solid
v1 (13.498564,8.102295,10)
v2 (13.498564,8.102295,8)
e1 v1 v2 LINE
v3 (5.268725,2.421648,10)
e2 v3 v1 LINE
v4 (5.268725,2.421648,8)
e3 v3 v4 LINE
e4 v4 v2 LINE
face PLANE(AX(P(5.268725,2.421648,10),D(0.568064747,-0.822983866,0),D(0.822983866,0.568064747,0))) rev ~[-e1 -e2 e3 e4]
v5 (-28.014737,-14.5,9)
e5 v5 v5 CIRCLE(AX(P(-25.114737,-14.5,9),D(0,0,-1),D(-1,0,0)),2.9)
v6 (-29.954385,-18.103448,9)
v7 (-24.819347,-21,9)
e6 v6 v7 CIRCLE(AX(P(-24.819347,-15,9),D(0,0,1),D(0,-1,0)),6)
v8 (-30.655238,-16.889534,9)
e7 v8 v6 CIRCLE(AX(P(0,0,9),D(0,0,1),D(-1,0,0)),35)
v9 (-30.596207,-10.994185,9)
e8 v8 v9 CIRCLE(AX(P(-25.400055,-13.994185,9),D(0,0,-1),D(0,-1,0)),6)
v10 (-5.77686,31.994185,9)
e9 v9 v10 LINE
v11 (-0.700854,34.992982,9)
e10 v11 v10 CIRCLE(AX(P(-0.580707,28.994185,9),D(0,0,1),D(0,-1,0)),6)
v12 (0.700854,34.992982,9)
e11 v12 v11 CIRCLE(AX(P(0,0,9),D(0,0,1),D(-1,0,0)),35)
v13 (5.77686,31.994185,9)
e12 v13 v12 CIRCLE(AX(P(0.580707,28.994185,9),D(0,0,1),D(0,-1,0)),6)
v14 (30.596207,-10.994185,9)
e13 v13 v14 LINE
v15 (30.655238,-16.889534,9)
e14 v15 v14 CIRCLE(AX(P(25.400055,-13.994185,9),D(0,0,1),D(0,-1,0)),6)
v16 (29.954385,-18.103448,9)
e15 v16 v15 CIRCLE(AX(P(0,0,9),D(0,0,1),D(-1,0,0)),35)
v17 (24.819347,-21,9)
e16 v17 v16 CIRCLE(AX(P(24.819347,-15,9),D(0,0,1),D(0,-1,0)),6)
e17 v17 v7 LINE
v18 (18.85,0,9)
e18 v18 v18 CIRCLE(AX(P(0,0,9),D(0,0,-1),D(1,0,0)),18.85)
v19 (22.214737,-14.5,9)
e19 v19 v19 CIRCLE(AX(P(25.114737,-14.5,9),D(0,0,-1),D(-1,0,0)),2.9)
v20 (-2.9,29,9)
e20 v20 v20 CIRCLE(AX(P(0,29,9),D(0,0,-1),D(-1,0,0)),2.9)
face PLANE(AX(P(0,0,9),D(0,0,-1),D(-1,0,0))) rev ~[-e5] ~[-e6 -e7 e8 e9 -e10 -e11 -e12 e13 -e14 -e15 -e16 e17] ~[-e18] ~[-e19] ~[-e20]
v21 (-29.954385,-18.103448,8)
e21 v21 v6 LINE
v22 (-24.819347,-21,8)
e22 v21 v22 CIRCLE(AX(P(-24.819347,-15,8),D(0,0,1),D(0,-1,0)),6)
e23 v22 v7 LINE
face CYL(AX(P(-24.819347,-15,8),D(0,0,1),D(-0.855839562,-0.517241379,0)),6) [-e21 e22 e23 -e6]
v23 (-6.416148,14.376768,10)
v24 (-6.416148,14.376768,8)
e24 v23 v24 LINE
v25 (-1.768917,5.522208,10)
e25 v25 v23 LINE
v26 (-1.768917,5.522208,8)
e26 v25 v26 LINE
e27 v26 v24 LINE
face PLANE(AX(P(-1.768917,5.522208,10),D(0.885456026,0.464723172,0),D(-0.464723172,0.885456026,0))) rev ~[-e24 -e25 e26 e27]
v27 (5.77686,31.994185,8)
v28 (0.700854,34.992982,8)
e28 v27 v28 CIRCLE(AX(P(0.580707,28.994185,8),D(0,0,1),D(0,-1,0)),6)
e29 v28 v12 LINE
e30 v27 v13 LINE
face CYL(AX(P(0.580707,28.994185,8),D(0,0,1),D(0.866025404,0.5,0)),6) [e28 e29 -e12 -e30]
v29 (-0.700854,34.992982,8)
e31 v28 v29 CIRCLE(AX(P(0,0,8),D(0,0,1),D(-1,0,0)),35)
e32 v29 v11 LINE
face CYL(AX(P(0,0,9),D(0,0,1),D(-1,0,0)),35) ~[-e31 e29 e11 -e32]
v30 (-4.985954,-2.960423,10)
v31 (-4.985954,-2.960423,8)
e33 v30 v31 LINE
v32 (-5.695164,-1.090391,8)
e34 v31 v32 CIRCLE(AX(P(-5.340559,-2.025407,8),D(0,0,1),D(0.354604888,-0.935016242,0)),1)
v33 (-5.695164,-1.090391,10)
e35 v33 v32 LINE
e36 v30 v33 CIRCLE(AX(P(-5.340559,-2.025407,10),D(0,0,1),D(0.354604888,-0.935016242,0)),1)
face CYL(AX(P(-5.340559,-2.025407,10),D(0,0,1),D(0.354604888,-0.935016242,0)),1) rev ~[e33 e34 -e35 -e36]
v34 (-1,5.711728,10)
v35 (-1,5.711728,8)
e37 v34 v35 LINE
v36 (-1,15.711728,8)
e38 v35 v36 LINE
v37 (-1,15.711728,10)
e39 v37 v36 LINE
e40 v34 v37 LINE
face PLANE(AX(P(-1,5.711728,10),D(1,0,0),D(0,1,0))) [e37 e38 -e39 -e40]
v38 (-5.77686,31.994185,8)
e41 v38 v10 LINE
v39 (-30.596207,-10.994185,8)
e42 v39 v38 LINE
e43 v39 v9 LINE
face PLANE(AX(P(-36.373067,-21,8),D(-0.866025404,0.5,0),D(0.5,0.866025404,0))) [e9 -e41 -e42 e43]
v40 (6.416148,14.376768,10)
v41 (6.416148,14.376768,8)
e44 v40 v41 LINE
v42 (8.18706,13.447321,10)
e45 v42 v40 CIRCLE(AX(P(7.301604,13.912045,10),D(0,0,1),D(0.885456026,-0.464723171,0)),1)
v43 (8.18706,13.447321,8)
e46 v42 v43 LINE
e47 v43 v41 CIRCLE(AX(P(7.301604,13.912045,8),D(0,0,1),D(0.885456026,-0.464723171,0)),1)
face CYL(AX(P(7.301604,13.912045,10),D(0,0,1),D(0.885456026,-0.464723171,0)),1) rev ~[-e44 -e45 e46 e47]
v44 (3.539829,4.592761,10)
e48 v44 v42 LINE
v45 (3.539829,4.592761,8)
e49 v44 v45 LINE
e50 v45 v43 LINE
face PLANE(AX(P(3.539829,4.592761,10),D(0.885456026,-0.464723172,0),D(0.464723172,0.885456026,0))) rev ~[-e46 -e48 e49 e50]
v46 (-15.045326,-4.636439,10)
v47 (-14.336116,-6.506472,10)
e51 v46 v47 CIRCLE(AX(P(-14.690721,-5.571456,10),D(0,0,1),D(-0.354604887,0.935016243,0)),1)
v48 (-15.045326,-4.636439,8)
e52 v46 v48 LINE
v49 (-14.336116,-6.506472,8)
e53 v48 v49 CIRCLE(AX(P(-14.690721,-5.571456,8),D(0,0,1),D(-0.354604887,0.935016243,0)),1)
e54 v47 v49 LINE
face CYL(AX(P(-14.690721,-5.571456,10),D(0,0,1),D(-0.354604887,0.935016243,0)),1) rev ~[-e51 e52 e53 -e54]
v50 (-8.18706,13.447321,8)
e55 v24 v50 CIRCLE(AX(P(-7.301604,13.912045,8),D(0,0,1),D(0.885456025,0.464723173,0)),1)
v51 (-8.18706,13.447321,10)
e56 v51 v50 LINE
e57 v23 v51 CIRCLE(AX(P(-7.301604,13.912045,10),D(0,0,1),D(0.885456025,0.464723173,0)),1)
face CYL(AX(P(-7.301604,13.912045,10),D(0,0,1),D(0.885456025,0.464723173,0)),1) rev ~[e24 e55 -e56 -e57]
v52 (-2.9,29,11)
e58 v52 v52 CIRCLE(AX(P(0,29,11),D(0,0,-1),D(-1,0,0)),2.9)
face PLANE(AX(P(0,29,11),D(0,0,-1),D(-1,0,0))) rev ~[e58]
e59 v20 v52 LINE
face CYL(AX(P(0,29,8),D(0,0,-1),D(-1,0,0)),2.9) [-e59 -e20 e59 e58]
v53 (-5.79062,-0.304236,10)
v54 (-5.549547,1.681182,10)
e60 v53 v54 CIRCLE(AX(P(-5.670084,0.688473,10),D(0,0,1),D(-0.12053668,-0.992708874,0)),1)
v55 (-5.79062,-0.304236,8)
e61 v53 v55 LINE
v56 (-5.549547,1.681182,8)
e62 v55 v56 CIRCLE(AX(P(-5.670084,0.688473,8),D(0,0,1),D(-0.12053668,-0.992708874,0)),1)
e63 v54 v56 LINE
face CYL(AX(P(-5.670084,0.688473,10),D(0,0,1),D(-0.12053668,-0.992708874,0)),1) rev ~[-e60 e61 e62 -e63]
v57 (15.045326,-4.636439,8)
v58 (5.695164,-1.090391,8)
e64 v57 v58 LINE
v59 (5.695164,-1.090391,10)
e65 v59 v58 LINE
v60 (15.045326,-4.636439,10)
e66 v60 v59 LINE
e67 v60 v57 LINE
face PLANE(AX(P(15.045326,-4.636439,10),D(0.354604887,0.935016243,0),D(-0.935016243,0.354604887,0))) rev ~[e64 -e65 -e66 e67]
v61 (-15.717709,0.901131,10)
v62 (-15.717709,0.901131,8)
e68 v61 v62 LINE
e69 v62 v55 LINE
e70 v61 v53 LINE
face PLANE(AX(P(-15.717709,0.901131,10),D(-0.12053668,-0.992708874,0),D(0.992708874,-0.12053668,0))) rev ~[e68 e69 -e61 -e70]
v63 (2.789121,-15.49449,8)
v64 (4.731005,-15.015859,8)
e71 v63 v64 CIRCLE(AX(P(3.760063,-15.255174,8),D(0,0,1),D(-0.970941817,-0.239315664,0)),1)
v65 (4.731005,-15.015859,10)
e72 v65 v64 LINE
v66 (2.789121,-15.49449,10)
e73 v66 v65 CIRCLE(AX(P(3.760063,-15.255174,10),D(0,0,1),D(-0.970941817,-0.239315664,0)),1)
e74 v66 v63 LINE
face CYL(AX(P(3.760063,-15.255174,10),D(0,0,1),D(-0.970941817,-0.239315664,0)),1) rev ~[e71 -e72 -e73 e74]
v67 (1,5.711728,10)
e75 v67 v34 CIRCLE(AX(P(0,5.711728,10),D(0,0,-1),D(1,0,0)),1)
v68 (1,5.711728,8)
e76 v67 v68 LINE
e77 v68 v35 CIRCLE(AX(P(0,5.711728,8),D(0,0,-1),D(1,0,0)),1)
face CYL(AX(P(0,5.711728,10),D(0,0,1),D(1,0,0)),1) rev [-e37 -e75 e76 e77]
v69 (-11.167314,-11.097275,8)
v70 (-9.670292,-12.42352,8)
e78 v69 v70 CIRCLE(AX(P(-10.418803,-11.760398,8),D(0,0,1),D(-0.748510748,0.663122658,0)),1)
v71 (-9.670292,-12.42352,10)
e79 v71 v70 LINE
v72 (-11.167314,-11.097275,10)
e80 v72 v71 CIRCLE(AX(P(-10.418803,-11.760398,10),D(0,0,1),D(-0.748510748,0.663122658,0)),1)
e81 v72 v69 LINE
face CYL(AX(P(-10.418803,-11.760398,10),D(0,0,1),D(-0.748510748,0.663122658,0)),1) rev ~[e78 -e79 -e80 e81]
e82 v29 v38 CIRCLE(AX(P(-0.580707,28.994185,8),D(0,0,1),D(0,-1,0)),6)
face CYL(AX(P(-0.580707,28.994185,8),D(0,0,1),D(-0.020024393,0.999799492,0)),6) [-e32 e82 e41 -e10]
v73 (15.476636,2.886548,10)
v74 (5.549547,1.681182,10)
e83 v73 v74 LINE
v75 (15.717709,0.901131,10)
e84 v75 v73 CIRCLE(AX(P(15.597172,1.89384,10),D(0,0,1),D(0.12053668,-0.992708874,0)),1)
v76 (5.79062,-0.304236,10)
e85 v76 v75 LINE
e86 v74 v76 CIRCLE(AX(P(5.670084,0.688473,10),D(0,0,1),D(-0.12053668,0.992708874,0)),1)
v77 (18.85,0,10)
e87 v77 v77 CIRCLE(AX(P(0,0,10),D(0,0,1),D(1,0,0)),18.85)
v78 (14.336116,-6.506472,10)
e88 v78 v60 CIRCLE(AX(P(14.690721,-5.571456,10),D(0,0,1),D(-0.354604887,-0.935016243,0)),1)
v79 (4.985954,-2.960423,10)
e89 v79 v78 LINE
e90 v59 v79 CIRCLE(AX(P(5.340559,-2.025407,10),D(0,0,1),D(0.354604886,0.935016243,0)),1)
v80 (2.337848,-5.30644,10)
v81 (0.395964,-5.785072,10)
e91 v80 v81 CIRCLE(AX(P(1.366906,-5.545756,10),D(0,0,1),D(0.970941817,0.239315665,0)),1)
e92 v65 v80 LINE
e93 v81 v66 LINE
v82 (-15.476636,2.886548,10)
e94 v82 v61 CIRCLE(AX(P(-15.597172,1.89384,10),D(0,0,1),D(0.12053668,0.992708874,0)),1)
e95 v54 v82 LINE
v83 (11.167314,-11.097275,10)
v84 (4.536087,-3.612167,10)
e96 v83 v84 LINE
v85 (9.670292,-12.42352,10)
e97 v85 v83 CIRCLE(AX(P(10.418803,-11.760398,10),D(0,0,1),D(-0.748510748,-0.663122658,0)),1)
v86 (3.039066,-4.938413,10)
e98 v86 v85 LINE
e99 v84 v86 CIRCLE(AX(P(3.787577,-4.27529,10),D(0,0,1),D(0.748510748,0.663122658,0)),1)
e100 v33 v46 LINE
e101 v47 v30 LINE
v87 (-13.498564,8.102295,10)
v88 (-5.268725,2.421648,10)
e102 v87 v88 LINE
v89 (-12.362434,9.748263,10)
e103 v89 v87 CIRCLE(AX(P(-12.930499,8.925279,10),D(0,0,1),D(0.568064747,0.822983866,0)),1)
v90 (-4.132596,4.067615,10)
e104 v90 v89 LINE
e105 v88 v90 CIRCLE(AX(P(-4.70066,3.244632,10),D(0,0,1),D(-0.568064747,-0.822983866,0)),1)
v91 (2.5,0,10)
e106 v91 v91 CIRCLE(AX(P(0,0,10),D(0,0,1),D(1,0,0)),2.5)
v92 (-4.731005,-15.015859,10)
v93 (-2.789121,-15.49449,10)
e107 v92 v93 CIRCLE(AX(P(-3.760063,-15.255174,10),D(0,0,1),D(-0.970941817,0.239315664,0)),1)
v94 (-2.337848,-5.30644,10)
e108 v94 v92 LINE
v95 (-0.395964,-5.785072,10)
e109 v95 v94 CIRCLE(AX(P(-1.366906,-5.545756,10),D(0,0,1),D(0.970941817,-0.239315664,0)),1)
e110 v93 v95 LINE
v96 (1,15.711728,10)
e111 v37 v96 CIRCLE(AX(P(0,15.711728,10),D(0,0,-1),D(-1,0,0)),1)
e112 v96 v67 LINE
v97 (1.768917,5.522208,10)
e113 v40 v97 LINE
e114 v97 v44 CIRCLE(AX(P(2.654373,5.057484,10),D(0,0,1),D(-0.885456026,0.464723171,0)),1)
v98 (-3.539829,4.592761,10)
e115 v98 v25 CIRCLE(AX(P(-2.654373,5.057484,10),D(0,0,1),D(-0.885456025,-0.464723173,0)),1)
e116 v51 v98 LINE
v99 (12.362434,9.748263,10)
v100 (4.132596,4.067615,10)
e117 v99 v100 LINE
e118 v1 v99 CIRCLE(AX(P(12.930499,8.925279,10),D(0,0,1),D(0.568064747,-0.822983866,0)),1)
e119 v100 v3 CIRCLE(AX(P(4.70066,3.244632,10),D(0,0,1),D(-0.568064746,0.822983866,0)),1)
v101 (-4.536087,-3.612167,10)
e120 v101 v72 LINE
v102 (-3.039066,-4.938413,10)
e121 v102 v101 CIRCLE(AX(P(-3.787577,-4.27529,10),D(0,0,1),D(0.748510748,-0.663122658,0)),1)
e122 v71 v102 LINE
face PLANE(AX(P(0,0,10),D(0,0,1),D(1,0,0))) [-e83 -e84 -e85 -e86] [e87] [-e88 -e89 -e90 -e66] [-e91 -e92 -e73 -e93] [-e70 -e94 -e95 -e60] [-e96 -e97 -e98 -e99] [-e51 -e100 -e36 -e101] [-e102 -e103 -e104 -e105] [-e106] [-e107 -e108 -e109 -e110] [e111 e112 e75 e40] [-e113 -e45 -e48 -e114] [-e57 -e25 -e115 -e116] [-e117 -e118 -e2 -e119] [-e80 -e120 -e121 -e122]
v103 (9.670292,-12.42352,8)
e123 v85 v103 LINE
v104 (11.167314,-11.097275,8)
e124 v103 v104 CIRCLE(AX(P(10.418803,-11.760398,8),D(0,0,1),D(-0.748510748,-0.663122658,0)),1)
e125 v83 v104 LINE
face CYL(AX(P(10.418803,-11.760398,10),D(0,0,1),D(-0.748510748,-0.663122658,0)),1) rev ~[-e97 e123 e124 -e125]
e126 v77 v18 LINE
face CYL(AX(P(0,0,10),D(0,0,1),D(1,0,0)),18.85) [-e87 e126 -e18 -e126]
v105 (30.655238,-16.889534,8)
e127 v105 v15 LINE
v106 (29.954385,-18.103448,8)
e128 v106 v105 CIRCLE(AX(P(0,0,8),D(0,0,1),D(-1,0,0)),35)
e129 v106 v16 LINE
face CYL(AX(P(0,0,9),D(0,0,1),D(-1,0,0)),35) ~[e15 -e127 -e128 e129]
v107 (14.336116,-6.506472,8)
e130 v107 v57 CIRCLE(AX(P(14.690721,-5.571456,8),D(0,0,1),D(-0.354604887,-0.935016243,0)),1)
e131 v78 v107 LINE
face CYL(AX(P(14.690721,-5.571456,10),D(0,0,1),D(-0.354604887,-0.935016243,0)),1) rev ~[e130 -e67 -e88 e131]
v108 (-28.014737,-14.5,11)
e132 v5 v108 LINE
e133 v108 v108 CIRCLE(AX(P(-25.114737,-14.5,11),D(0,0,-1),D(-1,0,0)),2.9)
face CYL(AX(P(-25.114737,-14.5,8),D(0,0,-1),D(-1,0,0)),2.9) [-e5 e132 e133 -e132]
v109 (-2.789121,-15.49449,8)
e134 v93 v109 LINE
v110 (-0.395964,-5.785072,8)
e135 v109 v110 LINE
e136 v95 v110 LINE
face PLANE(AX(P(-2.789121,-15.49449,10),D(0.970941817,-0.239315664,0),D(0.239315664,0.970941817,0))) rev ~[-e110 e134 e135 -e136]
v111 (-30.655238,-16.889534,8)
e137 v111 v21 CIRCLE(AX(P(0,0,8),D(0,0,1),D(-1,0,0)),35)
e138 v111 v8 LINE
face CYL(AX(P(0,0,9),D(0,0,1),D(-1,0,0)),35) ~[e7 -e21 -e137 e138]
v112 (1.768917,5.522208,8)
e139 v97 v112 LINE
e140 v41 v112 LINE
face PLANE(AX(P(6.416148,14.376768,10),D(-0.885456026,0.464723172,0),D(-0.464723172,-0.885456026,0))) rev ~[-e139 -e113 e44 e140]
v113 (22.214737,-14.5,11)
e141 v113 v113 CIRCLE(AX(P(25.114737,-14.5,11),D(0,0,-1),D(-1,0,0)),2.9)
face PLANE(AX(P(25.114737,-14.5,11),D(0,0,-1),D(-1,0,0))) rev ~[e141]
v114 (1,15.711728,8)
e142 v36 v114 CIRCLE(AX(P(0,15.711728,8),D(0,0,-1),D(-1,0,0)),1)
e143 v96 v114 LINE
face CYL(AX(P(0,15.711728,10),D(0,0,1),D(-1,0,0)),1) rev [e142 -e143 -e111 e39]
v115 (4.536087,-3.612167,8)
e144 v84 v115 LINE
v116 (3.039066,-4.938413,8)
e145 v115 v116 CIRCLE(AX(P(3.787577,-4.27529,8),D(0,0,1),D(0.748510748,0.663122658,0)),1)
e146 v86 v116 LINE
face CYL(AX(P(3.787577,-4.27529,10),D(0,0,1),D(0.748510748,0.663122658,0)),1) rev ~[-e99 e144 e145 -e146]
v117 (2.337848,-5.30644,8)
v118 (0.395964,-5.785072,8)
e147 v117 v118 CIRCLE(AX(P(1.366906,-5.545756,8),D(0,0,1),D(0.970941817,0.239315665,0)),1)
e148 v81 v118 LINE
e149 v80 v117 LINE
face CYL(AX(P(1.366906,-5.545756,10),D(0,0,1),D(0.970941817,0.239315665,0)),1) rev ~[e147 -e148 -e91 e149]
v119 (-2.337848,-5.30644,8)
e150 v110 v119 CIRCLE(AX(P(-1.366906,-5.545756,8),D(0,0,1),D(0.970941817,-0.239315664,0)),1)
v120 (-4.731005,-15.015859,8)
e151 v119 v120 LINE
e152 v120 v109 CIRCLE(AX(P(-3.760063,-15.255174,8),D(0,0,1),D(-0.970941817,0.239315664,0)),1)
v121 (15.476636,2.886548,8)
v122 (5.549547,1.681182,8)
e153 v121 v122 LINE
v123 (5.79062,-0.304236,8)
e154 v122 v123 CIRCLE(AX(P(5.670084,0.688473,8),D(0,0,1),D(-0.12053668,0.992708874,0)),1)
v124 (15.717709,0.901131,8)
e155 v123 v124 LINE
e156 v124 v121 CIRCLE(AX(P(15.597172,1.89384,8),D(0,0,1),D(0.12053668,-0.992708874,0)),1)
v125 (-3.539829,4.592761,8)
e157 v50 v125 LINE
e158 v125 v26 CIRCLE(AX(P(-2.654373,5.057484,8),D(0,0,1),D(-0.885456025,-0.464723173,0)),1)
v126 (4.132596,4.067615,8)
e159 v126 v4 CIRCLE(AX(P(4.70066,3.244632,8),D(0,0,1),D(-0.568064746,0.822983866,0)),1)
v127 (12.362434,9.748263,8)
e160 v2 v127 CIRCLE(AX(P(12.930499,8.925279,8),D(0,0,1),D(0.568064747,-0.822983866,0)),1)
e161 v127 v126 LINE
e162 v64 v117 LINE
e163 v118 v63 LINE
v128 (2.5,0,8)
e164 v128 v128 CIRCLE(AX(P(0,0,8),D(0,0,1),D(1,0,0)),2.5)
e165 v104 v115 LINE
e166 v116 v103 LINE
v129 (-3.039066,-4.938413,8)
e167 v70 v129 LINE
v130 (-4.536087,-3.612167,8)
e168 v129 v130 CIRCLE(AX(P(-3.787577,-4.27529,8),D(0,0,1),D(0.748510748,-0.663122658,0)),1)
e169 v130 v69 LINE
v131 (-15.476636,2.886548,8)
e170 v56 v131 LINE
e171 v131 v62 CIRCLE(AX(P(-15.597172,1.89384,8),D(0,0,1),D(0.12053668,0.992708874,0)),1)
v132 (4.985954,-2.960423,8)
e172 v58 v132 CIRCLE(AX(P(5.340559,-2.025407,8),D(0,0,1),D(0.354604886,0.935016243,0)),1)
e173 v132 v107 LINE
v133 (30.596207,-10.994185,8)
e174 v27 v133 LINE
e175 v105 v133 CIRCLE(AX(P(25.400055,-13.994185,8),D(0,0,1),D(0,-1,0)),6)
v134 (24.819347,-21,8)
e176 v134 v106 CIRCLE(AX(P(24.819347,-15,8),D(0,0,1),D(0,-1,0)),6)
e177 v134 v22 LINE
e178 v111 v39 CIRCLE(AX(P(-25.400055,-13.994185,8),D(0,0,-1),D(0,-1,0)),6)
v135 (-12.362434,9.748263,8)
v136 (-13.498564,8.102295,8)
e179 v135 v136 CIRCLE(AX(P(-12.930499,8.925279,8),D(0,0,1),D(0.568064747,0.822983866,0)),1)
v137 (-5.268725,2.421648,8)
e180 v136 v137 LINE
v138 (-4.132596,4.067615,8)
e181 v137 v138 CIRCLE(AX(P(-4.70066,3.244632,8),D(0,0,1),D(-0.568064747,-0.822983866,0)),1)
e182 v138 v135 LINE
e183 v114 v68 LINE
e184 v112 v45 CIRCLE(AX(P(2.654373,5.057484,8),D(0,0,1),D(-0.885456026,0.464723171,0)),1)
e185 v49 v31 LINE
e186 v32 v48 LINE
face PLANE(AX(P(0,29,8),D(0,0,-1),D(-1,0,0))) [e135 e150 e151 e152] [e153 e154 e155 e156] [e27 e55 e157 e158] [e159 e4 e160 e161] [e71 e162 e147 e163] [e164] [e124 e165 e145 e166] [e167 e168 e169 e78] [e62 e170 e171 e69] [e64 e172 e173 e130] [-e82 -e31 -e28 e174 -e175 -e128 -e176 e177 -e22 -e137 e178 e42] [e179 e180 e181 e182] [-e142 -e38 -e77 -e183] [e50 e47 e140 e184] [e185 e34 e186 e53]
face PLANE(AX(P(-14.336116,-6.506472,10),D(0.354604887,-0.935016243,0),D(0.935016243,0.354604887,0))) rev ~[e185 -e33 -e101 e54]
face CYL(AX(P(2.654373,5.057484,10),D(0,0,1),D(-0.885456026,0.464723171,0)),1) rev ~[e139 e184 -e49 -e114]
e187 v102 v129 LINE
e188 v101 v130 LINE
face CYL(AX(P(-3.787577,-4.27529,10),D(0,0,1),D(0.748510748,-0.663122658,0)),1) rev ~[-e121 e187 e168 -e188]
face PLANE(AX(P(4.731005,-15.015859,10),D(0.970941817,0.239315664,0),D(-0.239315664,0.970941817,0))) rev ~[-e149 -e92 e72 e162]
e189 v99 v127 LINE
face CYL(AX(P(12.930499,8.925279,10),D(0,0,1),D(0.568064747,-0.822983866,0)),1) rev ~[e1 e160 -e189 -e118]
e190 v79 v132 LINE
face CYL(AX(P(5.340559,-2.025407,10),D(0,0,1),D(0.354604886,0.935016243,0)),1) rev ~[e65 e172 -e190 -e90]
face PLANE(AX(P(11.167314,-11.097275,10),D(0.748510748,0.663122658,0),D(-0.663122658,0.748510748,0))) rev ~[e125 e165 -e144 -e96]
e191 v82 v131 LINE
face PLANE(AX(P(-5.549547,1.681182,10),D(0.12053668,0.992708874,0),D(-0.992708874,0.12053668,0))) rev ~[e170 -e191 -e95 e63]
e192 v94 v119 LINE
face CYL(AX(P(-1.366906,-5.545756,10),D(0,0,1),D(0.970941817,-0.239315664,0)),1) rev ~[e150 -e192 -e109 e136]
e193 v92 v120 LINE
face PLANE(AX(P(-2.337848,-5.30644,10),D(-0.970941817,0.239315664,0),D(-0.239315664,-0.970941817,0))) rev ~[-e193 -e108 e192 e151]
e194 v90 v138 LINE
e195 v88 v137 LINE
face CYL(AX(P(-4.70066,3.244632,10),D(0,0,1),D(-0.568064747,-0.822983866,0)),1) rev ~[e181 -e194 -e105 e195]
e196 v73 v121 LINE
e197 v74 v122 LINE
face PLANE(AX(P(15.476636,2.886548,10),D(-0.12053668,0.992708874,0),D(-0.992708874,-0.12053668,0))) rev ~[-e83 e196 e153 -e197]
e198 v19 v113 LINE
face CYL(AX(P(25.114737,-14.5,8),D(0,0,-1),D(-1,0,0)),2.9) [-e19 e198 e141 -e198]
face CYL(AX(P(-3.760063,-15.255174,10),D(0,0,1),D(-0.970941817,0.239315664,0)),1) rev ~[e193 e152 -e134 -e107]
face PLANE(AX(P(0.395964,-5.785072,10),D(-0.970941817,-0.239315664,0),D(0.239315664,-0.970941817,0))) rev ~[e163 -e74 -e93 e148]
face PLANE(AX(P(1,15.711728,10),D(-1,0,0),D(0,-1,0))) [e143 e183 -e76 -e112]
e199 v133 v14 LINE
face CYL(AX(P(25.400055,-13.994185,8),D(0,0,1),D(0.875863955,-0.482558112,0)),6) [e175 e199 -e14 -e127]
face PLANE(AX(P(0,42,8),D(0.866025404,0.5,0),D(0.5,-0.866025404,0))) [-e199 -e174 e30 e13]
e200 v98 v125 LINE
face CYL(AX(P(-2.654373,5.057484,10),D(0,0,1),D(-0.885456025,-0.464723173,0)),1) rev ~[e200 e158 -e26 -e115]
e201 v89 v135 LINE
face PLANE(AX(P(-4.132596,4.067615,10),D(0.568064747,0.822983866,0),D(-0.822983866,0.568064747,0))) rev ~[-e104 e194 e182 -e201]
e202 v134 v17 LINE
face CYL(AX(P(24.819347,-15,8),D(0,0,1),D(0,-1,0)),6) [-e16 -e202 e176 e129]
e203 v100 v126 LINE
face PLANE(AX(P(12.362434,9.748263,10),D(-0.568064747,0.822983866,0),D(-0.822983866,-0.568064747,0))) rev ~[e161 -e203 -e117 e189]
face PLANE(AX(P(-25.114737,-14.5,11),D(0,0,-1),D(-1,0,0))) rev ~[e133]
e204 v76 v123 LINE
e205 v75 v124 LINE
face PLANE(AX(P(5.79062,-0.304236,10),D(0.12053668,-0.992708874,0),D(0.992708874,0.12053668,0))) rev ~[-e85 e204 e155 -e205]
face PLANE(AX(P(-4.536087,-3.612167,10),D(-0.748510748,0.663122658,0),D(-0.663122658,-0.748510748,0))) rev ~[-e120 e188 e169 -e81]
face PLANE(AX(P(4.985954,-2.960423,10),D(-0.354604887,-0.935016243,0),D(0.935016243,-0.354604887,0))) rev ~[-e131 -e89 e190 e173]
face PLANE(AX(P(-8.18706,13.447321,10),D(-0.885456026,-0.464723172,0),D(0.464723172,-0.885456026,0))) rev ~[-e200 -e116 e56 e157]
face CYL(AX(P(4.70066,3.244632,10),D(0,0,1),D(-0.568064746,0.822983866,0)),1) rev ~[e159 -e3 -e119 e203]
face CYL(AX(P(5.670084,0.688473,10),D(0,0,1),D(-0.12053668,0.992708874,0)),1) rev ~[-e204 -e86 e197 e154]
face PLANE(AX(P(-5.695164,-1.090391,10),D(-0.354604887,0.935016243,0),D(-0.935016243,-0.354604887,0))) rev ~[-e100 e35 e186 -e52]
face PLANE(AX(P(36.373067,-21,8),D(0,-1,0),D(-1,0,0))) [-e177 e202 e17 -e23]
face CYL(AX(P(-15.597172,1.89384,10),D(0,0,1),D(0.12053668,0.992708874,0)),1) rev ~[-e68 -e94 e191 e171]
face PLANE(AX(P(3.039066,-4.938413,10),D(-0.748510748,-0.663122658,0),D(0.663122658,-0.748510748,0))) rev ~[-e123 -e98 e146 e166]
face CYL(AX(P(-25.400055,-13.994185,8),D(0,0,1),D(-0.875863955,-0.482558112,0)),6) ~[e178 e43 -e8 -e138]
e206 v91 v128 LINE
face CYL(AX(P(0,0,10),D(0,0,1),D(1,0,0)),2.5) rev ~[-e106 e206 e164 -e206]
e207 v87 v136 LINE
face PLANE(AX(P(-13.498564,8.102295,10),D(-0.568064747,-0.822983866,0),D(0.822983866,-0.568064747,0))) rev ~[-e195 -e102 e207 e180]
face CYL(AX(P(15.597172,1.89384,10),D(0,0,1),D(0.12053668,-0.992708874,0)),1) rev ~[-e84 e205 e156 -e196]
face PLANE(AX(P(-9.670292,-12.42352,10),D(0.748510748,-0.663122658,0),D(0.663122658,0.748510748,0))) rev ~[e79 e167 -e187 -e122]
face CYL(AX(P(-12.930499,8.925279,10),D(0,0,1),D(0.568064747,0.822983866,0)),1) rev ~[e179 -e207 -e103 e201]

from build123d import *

# Parameters (mm, degrees)
SKETCH2_R           = 18.85
SKETCH2_R_2         = 2.5
BOSS_EXTRUDE1_DEPTH = 2
BOSS_EXTRUDE2_START = -1
SKETCH3_R           = 35
SKETCH3_R_2         = 18.85
BOSS_EXTRUDE2_DEPTH = 1
SKETCH4_R           = 2.9
BOSS_EXTRUDE3_DEPTH = 3
SKETCH6_R           = 5
BOSS_EXTRUDE4_DEPTH = 1
SKETCH7_R           = 59.131365533
CUT_EXTRUDE1_DEPTH  = 10
FILLET1_R           = 6


with BuildPart() as part:
    # Sketch2 → Boss-Extrude1 (new body)
    with BuildSketch(Plane.XY.offset(10)):
        Circle(SKETCH2_R)
        Circle(SKETCH2_R_2, mode=Mode.SUBTRACT)
        with BuildLine():
            Line((1, 15.711728477), (1, 5.711728477))
            ThreePointArc((1, 5.711728477), (0, 4.711728477), (-1, 5.711728477))
            Line((-1, 5.711728477), (-1, 15.711728477))
            ThreePointArc((-1, 15.711728477), (0, 16.711728477), (1, 15.711728477))
        make_face(mode=Mode.SUBTRACT)
        with BuildLine():
            Line((6.416148271, 14.376767826), (1.76891655, 5.522207569))
            ThreePointArc((1.76891655, 5.522207569), (2.189649404, 4.172028372), (3.539828602, 4.592761225))
            Line((3.539828602, 4.592761225), (8.187060322, 13.447321482))
            ThreePointArc((8.187060322, 13.447321482), (7.766327468, 14.797500679), (6.416148271, 14.376767826))
        make_face(mode=Mode.SUBTRACT)
        with BuildLine():
            Line((12.362434295, 9.748262924), (4.132595637, 4.067615457))
            ThreePointArc((4.132595637, 4.067615457), (3.877676517, 2.676566844), (5.26872513, 2.421647725))
            Line((5.26872513, 2.421647725), (13.498563789, 8.102295192))
            ThreePointArc((13.498563789, 8.102295192), (13.753482908, 9.493343805), (12.362434295, 9.748262924))
        make_face(mode=Mode.SUBTRACT)
        with BuildLine():
            Line((15.476635607, 2.886548466), (5.549546866, 1.681181663))
            ThreePointArc((5.549546866, 1.681181663), (4.677374672, 0.567936109), (5.790620226, -0.304236085))
            Line((5.790620226, -0.304236085), (15.717708967, 0.901130718))
            ThreePointArc((15.717708967, 0.901130718), (16.589881161, 2.014376272), (15.476635607, 2.886548466))
        make_face(mode=Mode.SUBTRACT)
        with BuildLine():
            Line((15.045326214, -4.636439459), (5.695163787, -1.090390589))
            ThreePointArc((5.695163787, -1.090390589), (4.405542658, -1.670801945), (4.985954013, -2.960423074))
            Line((4.985954013, -2.960423074), (14.33611644, -6.506471945))
            ThreePointArc((14.33611644, -6.506471945), (15.62573757, -5.926060589), (15.045326214, -4.636439459))
        make_face(mode=Mode.SUBTRACT)
        with BuildLine():
            Line((11.167313902, -11.097274979), (4.536087319, -3.612167498))
            ThreePointArc((4.536087319, -3.612167498), (3.124453913, -3.526779408), (3.039065823, -4.938412814))
            Line((3.039065823, -4.938412814), (9.670292405, -12.423520296))
            ThreePointArc((9.670292405, -12.423520296), (11.081925812, -12.508908386), (11.167313902, -11.097274979))
        make_face(mode=Mode.SUBTRACT)
        with BuildLine():
            Line((4.731004555, -15.015858538), (2.337847912, -5.306440364))
            ThreePointArc((2.337847912, -5.306440364), (1.127590431, -4.574814211), (0.395964277, -5.785071693))
            Line((0.395964277, -5.785071693), (2.78912092, -15.494489867))
            ThreePointArc((2.78912092, -15.494489867), (3.999378402, -16.22611602), (4.731004555, -15.015858538))
        make_face(mode=Mode.SUBTRACT)
        with BuildLine():
            Line((-2.78912092, -15.494489867), (-0.395964277, -5.785071693))
            ThreePointArc((-0.395964277, -5.785071693), (-1.127590431, -4.574814211), (-2.337847912, -5.306440364))
            Line((-2.337847912, -5.306440364), (-4.731004555, -15.015858538))
            ThreePointArc((-4.731004555, -15.015858538), (-3.999378402, -16.22611602), (-2.78912092, -15.494489867))
        make_face(mode=Mode.SUBTRACT)
        with BuildLine():
            Line((-9.670292405, -12.423520296), (-3.039065823, -4.938412814))
            ThreePointArc((-3.039065823, -4.938412814), (-3.124453913, -3.526779408), (-4.536087319, -3.612167498))
            Line((-4.536087319, -3.612167498), (-11.167313902, -11.097274979))
            ThreePointArc((-11.167313902, -11.097274979), (-11.081925812, -12.508908386), (-9.670292405, -12.423520296))
        make_face(mode=Mode.SUBTRACT)
        with BuildLine():
            Line((-14.33611644, -6.506471945), (-4.985954013, -2.960423074))
            ThreePointArc((-4.985954013, -2.960423074), (-4.405542658, -1.670801945), (-5.695163787, -1.090390589))
            Line((-5.695163787, -1.090390589), (-15.045326214, -4.636439459))
            ThreePointArc((-15.045326214, -4.636439459), (-15.62573757, -5.926060589), (-14.33611644, -6.506471945))
        make_face(mode=Mode.SUBTRACT)
        with BuildLine():
            Line((-15.717708967, 0.901130718), (-5.790620226, -0.304236085))
            ThreePointArc((-5.790620226, -0.304236085), (-4.677374672, 0.567936109), (-5.549546866, 1.681181663))
            Line((-5.549546866, 1.681181663), (-15.476635607, 2.886548466))
            ThreePointArc((-15.476635607, 2.886548466), (-16.589881161, 2.014376272), (-15.717708967, 0.901130718))
        make_face(mode=Mode.SUBTRACT)
        with BuildLine():
            Line((-13.498563789, 8.102295192), (-5.26872513, 2.421647725))
            ThreePointArc((-5.26872513, 2.421647725), (-3.877676517, 2.676566844), (-4.132595637, 4.067615457))
            Line((-4.132595637, 4.067615457), (-12.362434295, 9.748262924))
            ThreePointArc((-12.362434295, 9.748262924), (-13.753482908, 9.493343805), (-13.498563789, 8.102295192))
        make_face(mode=Mode.SUBTRACT)
        with BuildLine():
            Line((-8.187060322, 13.447321482), (-3.539828602, 4.592761225))
            ThreePointArc((-3.539828602, 4.592761225), (-2.189649404, 4.172028372), (-1.76891655, 5.522207569))
            Line((-1.76891655, 5.522207569), (-6.416148271, 14.376767826))
            ThreePointArc((-6.416148271, 14.376767826), (-7.766327468, 14.797500679), (-8.187060322, 13.447321482))
        make_face(mode=Mode.SUBTRACT)
    extrude(amount=-BOSS_EXTRUDE1_DEPTH)

    # Sketch3 → Boss-Extrude2 (add)
    with BuildSketch(Plane(origin=(0, 0, 8), x_dir=(-1, 0, 0), z_dir=(0, 0, -1)).offset(BOSS_EXTRUDE2_START)):
        Circle(SKETCH3_R)
        with Locations(Location((0, 0, 0), (0, 0, 180))):
            Circle(SKETCH3_R_2, mode=Mode.SUBTRACT)
    extrude(amount=BOSS_EXTRUDE2_DEPTH)

    # Sketch4 → Boss-Extrude3 (add)
    with BuildSketch(Plane(origin=(0, 0, 8), x_dir=(-1, 0, 0), z_dir=(0, 0, -1))):
        with Locations((0, 29)):
            Circle(SKETCH4_R)
        with Locations((25.11473671, -14.5)):
            Circle(SKETCH4_R)
        with Locations((-25.11473671, -14.5)):
            Circle(SKETCH4_R)
    extrude(amount=-BOSS_EXTRUDE3_DEPTH)

    # Sketch6 → Boss-Extrude4 (add)
    with BuildSketch(Plane(origin=(0, 0, 9), x_dir=(-1, 0, 0), z_dir=(0, 0, -1))):
        with Locations((0, 30)):
            Circle(SKETCH6_R)
        with Locations((25.980762114, -15)):
            Circle(SKETCH6_R)
        with Locations((-25.980762114, -15)):
            Circle(SKETCH6_R)
    extrude(amount=BOSS_EXTRUDE4_DEPTH)

    # Sketch7 → Cut-Extrude1 (cut)
    with BuildSketch(Plane(origin=(0, 0, 8), x_dir=(-1, 0, 0), z_dir=(0, 0, -1))):
        Circle(SKETCH7_R)
        Polygon((0, 42), (-36.373066959, -21), (36.373066959, -21), align=None, mode=Mode.SUBTRACT)
    extrude(amount=-CUT_EXTRUDE1_DEPTH, mode=Mode.SUBTRACT)

    # Fillet1
    fillet1_edges = [part.edges().sort_by_distance(p)[0] for p in [
        (-4.186533479, 34.748711306, 8.5),
        (-32.186533479, -13.748711306, 8.5),
        (-28, -21, 8.5),
        (28, -21, 8.5),
        (32.186533479, -13.748711306, 8.5),
        (4.186533479, 34.748711306, 8.5),
    ]]
    fillet(fillet1_edges, radius=FILLET1_R)


solid = part.part
